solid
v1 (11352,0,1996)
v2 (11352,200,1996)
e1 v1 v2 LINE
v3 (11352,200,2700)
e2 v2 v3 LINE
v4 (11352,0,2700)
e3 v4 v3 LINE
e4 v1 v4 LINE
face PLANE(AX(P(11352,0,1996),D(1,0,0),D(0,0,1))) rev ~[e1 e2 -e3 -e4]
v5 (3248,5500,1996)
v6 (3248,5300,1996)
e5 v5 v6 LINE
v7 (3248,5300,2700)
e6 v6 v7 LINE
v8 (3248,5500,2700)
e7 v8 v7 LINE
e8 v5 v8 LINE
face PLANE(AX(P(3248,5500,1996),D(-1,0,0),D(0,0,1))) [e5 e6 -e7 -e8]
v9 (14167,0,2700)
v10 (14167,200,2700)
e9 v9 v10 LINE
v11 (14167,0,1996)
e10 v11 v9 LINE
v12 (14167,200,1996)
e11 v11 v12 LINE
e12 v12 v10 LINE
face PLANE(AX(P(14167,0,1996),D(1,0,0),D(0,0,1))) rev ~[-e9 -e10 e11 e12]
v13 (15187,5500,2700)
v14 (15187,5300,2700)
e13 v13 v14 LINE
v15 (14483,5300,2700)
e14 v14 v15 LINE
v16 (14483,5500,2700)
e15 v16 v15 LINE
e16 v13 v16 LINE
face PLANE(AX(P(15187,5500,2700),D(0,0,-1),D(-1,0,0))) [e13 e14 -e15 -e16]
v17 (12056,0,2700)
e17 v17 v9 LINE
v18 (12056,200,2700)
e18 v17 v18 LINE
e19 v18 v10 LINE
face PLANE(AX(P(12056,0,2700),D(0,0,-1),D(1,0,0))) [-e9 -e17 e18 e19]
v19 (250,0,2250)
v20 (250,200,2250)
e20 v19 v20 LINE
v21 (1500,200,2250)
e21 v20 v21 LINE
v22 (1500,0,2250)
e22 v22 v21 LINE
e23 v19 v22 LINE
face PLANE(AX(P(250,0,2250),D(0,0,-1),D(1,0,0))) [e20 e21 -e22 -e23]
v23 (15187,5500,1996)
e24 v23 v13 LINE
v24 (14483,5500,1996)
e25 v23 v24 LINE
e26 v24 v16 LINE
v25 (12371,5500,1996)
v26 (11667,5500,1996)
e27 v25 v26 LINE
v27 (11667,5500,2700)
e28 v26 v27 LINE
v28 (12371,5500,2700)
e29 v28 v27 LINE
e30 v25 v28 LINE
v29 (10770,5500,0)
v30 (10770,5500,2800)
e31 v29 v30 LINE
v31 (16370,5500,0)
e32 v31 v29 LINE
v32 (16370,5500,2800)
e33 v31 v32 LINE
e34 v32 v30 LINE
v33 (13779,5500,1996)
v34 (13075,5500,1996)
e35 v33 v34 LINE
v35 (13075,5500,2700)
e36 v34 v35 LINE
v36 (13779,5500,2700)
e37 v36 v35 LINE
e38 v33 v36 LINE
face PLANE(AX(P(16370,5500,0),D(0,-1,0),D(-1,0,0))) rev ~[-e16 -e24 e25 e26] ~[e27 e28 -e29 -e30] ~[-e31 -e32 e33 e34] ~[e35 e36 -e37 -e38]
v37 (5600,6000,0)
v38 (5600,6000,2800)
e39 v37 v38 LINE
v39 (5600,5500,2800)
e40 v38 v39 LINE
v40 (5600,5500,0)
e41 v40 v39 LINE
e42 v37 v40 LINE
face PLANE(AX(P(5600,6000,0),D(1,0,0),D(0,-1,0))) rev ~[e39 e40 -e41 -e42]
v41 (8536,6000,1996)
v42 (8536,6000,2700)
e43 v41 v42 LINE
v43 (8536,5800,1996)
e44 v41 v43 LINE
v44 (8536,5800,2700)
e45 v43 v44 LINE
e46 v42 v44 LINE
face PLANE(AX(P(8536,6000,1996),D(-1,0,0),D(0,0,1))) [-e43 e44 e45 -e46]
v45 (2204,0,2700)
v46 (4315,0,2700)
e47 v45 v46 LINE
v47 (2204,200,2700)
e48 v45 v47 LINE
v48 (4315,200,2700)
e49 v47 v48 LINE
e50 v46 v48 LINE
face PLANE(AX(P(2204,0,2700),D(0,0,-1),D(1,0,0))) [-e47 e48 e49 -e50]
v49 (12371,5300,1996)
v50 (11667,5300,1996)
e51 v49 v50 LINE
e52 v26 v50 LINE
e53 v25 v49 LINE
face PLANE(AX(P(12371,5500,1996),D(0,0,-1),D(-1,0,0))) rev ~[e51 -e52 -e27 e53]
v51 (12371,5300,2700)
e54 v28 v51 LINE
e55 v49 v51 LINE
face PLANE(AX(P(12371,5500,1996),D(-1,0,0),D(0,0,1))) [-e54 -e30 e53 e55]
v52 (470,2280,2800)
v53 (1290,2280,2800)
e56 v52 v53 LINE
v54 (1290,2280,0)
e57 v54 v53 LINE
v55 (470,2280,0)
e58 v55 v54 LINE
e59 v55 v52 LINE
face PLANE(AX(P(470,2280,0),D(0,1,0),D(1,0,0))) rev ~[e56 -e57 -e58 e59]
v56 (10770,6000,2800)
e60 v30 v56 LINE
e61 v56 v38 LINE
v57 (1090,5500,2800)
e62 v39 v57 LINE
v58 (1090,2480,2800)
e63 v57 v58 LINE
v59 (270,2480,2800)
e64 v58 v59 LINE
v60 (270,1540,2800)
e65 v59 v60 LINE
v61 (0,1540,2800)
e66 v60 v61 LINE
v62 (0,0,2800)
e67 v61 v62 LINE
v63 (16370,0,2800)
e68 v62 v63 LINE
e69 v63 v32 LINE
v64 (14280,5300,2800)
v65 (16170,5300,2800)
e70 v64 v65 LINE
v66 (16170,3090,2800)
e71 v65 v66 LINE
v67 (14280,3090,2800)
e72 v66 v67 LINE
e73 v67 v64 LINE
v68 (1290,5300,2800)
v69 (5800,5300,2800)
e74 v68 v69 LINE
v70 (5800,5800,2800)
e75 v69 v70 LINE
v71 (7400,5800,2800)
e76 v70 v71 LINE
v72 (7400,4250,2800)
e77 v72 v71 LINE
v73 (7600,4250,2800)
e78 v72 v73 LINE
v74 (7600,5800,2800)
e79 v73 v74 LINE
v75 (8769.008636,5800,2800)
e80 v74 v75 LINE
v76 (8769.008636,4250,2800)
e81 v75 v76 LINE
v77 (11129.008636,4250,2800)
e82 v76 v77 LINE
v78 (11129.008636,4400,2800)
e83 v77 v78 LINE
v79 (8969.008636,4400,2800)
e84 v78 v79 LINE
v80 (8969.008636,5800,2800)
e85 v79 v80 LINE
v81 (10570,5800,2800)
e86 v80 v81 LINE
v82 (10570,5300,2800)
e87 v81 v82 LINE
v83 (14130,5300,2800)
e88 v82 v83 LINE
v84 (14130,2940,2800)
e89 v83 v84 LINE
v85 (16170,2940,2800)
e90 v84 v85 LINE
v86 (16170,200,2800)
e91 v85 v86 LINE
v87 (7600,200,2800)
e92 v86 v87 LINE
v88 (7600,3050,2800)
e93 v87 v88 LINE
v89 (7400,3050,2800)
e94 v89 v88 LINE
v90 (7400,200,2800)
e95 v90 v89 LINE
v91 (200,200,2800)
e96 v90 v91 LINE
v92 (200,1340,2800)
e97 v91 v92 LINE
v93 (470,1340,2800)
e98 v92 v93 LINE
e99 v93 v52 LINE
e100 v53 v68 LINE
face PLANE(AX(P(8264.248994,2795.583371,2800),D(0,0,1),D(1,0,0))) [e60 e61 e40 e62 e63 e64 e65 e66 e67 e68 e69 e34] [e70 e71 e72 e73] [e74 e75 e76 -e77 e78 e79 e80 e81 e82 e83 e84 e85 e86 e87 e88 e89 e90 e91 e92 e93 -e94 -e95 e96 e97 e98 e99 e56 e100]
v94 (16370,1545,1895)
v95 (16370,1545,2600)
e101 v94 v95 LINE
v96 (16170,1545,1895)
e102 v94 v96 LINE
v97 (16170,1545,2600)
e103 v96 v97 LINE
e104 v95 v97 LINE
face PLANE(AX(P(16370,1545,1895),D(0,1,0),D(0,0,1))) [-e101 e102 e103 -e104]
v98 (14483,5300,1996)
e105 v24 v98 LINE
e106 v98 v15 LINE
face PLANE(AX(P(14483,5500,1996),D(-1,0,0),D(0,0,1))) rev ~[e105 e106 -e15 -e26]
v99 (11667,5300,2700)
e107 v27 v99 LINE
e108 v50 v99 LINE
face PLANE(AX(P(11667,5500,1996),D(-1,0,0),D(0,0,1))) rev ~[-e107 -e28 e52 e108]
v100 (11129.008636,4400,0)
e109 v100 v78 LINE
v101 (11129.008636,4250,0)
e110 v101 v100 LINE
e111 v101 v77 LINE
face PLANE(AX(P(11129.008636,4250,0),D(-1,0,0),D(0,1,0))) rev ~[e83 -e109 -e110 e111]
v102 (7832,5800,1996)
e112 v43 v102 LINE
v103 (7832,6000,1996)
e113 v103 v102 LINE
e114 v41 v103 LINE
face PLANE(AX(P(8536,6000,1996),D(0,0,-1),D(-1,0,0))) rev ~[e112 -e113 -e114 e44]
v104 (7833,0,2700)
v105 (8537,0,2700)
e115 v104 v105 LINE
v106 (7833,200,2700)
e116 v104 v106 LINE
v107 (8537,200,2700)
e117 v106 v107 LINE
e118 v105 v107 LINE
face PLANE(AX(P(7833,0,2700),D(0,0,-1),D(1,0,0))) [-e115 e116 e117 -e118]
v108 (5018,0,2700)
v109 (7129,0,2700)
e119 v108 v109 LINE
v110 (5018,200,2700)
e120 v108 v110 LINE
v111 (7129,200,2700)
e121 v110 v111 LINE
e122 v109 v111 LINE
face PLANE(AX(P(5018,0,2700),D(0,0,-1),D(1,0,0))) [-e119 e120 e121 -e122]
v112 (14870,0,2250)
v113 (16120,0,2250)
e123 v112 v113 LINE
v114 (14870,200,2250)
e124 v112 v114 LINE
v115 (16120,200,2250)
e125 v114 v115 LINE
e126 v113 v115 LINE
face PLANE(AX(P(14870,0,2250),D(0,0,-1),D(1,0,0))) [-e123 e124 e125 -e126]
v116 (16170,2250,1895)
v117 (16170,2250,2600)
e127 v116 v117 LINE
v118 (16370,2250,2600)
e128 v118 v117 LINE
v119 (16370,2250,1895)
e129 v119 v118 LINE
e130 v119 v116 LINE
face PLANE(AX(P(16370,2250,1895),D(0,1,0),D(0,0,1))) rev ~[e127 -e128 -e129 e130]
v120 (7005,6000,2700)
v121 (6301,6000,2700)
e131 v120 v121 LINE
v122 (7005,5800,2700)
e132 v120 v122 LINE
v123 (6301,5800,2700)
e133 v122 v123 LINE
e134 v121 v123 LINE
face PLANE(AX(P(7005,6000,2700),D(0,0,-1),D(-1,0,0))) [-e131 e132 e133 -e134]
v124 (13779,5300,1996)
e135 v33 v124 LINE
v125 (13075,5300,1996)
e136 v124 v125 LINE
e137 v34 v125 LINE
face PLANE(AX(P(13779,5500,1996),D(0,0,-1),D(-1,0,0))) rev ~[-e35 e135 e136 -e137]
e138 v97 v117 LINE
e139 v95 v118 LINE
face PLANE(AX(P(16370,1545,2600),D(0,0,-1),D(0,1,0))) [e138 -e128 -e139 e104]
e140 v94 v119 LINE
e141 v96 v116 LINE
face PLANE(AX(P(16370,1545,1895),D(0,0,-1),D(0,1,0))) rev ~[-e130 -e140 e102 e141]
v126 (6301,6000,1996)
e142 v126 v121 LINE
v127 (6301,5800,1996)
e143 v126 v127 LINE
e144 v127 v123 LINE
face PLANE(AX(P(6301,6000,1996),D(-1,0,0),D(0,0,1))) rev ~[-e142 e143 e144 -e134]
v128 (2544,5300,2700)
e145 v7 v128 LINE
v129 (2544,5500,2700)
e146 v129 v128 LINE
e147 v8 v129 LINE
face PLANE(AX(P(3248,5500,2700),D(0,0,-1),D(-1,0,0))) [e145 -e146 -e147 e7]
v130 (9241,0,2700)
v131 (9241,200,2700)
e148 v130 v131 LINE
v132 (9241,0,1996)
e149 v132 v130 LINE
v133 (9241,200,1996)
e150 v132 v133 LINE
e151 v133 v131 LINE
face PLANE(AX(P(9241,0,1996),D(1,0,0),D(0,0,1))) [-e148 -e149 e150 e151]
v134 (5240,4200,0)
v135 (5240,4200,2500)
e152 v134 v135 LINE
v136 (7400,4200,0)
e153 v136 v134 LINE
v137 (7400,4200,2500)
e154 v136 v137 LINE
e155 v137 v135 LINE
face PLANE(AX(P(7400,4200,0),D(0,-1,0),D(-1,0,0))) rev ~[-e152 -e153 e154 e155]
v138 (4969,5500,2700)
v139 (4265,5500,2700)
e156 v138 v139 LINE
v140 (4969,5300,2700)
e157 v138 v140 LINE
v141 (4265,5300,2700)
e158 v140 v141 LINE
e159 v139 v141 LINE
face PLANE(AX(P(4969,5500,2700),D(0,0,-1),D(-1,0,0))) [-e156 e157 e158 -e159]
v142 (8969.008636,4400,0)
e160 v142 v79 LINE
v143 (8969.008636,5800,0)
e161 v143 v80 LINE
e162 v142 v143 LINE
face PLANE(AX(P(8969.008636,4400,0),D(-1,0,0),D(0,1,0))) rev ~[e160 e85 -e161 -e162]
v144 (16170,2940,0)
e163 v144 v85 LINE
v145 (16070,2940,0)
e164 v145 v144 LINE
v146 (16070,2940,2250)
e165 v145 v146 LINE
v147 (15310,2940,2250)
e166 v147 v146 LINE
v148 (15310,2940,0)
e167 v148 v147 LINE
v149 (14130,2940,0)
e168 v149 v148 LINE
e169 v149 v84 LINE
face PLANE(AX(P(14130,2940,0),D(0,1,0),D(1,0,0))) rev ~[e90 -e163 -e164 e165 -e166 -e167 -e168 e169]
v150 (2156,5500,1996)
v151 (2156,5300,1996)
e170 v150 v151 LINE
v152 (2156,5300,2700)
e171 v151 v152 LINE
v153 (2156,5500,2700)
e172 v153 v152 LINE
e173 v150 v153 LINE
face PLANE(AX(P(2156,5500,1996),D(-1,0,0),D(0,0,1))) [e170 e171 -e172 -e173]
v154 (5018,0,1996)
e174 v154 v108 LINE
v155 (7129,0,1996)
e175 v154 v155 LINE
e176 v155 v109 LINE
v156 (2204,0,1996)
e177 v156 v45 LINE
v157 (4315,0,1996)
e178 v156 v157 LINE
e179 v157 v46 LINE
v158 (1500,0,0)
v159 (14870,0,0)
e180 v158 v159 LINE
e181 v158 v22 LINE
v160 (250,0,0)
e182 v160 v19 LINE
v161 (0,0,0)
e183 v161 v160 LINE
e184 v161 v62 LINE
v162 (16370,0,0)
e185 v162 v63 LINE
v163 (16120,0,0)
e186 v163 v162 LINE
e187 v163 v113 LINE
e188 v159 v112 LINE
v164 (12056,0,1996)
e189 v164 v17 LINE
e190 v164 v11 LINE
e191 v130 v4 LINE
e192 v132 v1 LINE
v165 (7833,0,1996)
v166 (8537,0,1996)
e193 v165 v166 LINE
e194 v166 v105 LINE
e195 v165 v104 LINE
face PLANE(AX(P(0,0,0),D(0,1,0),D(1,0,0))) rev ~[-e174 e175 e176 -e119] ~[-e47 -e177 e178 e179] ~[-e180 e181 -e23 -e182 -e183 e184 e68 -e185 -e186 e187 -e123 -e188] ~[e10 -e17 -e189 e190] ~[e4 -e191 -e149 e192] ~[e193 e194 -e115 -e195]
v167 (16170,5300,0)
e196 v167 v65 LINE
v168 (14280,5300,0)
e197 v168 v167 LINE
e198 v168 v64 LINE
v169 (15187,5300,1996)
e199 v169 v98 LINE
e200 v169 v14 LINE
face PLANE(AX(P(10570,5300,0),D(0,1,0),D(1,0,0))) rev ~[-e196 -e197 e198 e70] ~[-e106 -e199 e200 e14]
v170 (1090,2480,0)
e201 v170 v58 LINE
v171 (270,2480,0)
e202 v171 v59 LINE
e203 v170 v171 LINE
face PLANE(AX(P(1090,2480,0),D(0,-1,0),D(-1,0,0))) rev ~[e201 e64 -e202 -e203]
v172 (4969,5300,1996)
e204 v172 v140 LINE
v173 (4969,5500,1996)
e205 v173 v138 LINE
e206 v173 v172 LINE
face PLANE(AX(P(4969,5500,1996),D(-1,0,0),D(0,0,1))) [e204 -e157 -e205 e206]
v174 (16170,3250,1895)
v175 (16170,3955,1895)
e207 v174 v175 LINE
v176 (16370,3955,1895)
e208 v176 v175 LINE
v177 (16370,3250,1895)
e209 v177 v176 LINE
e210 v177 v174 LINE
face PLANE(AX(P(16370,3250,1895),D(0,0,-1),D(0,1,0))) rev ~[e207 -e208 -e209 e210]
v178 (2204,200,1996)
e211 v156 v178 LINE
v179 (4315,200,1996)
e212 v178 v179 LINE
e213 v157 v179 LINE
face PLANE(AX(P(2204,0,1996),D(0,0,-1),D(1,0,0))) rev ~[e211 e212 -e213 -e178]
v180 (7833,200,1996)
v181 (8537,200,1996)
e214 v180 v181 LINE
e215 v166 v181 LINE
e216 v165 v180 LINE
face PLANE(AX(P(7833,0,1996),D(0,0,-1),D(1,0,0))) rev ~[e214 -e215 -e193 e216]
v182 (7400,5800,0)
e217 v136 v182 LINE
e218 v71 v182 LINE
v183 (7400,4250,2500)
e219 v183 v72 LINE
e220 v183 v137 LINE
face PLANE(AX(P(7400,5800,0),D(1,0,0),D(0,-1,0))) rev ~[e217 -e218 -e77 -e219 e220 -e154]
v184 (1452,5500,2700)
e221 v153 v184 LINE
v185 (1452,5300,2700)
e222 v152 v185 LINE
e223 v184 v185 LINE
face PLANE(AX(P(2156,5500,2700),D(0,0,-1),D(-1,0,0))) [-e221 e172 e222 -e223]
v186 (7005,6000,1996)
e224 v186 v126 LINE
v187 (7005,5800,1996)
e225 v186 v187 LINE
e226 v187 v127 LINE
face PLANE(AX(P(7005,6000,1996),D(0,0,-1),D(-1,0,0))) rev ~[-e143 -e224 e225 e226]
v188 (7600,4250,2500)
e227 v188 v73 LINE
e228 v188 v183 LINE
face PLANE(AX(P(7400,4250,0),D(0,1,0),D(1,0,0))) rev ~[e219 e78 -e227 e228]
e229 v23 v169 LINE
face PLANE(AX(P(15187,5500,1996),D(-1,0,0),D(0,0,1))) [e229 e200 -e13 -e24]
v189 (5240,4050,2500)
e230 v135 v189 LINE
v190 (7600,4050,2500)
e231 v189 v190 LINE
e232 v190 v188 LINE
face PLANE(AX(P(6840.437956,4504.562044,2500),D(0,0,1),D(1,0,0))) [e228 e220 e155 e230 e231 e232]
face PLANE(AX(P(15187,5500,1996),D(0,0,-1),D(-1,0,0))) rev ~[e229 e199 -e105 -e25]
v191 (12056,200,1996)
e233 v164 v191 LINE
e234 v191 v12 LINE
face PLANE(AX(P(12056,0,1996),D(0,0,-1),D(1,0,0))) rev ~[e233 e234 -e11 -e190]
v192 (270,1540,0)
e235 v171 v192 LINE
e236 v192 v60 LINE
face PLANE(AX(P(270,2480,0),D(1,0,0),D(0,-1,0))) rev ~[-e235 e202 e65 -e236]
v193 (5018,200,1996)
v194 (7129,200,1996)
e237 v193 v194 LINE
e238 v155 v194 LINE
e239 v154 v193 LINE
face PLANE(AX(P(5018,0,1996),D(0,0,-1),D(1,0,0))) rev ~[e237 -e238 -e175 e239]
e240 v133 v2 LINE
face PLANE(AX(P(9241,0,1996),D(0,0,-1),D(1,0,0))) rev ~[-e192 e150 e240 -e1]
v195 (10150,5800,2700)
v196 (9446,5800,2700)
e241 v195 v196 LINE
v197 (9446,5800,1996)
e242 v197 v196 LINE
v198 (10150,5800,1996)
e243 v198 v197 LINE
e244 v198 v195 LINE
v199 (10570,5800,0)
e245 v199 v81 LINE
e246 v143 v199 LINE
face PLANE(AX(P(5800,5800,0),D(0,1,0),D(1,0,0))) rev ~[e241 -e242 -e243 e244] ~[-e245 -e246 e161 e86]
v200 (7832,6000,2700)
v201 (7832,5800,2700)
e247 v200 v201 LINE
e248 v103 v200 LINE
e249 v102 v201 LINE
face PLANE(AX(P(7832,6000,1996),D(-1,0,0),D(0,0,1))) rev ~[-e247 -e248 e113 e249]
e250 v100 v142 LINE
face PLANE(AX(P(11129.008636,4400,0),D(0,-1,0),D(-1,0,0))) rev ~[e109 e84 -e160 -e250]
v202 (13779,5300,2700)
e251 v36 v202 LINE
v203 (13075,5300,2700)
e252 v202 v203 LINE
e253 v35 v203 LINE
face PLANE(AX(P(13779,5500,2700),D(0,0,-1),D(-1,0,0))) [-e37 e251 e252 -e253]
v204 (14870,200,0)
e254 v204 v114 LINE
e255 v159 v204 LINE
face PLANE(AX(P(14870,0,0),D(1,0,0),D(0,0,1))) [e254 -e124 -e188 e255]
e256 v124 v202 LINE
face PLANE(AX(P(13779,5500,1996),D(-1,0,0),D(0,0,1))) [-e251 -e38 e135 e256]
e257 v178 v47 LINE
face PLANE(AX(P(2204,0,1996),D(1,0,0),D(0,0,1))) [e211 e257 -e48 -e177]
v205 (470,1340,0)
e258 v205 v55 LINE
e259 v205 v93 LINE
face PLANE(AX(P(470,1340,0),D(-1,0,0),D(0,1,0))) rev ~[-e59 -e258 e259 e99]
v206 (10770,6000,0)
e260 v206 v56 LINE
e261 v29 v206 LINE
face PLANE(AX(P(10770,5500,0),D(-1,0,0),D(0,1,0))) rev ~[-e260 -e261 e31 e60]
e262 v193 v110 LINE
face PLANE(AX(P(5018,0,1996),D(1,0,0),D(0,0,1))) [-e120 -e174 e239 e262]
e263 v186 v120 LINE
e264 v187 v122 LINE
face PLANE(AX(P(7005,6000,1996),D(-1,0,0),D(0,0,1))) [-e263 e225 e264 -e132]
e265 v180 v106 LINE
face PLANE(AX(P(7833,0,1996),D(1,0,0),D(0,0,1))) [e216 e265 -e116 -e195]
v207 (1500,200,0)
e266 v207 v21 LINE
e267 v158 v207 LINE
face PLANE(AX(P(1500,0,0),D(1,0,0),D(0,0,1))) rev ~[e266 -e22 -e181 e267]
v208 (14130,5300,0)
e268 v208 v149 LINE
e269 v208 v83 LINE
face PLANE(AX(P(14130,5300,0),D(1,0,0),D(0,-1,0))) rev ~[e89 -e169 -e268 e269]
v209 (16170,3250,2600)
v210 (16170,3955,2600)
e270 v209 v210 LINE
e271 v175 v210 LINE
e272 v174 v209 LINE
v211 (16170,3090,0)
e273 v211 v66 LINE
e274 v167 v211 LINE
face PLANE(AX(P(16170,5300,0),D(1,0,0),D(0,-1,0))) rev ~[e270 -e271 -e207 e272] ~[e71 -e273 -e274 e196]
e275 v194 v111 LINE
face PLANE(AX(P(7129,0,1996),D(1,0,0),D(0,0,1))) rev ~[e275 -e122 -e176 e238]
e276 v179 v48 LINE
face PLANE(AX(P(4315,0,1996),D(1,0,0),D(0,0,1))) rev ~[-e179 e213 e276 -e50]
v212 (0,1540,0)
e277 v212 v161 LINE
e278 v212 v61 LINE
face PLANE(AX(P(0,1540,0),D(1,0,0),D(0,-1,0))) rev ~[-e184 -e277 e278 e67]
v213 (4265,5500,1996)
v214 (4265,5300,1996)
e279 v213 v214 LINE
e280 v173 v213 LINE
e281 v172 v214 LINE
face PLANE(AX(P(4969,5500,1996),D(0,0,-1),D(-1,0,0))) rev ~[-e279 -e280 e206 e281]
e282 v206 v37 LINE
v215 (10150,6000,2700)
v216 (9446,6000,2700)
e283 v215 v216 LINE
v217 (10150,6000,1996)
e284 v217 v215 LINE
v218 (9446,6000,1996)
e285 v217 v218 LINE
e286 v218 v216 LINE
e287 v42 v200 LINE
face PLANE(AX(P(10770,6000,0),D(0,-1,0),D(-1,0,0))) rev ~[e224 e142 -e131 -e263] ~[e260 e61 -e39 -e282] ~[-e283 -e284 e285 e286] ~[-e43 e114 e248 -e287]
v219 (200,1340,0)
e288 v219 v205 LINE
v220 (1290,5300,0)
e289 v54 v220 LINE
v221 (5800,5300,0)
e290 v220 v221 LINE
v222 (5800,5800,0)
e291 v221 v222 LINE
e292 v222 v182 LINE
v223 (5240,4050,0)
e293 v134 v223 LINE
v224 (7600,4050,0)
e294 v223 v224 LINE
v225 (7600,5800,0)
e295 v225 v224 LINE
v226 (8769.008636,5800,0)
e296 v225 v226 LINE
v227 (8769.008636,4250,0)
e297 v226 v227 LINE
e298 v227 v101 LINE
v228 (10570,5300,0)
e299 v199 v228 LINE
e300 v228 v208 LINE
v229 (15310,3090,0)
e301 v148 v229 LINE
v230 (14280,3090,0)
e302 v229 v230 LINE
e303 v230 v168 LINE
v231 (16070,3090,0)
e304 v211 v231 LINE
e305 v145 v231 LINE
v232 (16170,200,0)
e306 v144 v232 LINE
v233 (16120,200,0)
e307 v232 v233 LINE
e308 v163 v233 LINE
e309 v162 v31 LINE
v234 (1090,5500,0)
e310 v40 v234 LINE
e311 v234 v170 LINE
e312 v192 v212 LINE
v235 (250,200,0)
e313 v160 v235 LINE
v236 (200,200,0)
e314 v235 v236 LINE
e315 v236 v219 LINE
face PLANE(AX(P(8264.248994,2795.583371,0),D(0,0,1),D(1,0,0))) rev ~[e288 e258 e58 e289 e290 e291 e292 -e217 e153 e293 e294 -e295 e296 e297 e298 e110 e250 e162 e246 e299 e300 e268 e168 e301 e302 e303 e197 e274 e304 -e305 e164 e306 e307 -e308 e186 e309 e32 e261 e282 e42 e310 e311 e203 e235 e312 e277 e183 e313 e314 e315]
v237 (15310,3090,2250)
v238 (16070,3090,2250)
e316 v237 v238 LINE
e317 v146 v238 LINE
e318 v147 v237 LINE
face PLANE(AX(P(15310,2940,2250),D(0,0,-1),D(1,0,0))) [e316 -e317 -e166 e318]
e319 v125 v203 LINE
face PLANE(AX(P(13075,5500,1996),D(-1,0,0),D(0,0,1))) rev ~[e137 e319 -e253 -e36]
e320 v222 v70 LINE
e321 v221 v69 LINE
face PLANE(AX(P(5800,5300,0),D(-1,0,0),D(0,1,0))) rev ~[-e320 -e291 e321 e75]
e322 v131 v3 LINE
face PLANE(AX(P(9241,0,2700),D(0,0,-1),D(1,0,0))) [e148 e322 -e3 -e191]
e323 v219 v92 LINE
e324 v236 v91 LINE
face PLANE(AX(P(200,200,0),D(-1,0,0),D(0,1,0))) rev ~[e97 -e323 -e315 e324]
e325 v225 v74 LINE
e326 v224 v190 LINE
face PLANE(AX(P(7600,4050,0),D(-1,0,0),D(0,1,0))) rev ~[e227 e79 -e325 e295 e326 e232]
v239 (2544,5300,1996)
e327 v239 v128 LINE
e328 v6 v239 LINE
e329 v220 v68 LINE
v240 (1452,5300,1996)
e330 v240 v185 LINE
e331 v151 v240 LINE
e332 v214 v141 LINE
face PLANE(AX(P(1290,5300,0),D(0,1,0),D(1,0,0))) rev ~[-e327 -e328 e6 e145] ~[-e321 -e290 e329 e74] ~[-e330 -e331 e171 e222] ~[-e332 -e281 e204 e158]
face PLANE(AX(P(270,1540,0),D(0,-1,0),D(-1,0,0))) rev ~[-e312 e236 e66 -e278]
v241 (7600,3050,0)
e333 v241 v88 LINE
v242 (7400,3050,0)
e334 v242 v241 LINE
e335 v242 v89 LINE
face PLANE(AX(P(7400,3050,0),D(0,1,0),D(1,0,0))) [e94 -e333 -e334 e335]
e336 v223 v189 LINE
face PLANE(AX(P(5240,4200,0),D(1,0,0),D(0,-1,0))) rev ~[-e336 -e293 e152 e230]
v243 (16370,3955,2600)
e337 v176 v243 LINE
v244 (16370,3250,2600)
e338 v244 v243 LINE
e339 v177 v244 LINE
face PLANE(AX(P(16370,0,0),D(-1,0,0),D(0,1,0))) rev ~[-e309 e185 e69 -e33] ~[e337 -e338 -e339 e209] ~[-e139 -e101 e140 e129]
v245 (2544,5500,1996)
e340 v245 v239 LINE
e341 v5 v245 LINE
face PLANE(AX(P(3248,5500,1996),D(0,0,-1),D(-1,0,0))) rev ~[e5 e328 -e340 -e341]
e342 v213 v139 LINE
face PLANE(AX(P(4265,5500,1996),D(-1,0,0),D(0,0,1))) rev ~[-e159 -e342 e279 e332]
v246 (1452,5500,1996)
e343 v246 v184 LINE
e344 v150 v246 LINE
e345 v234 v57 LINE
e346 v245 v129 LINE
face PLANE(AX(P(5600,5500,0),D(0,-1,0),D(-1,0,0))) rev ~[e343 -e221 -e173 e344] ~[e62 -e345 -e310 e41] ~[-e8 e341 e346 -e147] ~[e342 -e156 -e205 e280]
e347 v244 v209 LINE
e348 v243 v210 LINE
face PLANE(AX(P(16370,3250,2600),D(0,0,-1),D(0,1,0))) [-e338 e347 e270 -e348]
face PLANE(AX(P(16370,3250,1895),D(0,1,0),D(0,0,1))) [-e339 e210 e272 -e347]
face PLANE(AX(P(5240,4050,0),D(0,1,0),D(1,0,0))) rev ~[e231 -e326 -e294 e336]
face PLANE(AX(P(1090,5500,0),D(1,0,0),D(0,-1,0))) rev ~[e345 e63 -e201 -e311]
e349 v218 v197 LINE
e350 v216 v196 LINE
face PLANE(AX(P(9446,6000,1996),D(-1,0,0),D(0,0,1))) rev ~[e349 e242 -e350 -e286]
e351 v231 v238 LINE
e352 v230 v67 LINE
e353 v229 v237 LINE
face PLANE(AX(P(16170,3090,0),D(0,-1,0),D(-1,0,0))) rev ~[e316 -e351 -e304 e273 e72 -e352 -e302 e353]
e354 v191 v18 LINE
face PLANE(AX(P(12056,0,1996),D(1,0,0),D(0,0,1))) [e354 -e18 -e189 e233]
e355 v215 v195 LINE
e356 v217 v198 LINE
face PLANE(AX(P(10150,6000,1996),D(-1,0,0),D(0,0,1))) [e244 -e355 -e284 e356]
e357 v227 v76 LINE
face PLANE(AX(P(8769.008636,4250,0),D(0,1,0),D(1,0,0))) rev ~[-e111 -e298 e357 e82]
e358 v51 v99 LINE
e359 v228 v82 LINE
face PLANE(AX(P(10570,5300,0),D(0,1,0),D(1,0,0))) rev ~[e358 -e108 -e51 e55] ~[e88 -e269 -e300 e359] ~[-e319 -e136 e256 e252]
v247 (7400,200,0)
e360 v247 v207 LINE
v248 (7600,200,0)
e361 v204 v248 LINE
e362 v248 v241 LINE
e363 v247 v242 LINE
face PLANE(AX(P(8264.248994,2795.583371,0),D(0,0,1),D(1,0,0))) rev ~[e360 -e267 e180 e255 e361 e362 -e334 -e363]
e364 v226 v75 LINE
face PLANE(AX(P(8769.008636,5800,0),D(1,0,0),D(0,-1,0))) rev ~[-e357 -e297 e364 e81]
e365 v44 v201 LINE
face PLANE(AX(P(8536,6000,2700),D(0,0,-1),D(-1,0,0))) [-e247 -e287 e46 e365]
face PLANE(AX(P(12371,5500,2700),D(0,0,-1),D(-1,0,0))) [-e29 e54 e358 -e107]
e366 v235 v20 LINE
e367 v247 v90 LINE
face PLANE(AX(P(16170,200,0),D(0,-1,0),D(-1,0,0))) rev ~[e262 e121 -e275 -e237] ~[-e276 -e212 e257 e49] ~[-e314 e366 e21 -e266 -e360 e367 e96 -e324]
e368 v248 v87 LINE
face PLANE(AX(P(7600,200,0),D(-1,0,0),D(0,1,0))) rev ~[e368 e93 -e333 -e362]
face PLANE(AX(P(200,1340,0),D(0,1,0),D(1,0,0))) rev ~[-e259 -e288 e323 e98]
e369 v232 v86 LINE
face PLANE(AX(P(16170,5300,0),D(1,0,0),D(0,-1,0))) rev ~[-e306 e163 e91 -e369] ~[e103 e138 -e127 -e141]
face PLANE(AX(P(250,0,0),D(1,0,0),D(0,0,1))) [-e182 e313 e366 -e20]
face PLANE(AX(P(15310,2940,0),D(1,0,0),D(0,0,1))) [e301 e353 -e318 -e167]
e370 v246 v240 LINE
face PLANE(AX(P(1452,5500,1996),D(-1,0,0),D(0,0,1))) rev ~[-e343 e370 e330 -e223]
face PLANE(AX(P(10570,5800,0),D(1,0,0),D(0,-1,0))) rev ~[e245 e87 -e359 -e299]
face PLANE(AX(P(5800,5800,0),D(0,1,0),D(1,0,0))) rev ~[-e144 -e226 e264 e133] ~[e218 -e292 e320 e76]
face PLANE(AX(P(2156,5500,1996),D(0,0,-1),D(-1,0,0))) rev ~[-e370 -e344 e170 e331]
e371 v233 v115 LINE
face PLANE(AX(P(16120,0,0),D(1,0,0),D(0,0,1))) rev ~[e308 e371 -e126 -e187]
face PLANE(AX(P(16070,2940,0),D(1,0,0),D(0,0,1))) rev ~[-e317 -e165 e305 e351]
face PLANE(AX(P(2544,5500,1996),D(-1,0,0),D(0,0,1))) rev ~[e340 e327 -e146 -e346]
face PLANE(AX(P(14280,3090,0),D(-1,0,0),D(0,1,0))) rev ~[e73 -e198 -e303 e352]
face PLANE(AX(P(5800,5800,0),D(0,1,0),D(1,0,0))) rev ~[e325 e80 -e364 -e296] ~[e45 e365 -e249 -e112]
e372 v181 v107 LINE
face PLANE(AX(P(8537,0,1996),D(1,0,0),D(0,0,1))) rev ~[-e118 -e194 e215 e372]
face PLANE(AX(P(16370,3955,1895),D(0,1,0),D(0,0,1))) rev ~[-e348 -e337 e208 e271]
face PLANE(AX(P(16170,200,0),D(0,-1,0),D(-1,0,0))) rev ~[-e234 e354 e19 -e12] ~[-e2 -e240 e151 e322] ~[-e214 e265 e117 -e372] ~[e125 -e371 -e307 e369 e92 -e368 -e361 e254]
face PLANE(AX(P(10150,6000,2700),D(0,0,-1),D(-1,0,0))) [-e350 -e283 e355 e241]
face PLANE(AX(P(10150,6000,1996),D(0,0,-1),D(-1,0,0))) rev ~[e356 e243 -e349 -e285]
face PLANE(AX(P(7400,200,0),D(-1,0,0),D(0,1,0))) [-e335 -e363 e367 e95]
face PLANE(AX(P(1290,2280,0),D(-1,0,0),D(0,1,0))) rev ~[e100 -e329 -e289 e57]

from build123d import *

# Parameters (mm, degrees)
F1_DEPTH  = 2800
F2_W      = 1250
F2_H      = 2250
F3_DEPTH  = 200
F4_W      = 1250
F4_H      = 2250
F5_DEPTH  = 200
F11_DEPTH = 2500
F13_DEPTH = 2800
F14_W     = 2111
F14_H     = 704
F14_W_2   = 704
F15_DEPTH = 200
F16_W     = 704
F16_H     = 704
F17_DEPTH = 200
F18_W     = 704
F18_H     = 704
F19_DEPTH = 200
F20_W     = 704
F20_H     = 704
F21_DEPTH = 200
F27_W     = 760
F27_H     = 2250
F28_DEPTH = 150
F29_W     = 705
F29_H     = 705
F30_DEPTH = 200
F32_DEPTH = 2800
F33_W     = 200
F33_H     = 1550
F33_H_2   = 2850
F34_DEPTH = 2800


with BuildPart() as f1:
    # F0 (on Top) → F1 (new body)
    with BuildSketch(Plane.XY):
        Polygon((0, 200), (0, 0), (16370, 0), (16370, 5500), (10770, 5500), (10770, 6000), (5600, 6000), (5600, 5500), (1090, 5500), (1090, 5300), (1090, 2480), (270, 2480), (270, 1540), (0, 1540), align=None)
        Polygon((1290, 5300), (5800, 5300), (5800, 5800), (10570, 5800), (10570, 5300), (16170, 5300), (16170, 200), (200, 200), (200, 1340), (470, 1340), (470, 2280), (936.407268, 2280), (1290, 2280), align=None, mode=Mode.SUBTRACT)
    extrude(amount=F1_DEPTH)

    # F2 (on face) → F3 (cut)
    with BuildSketch(Plane.XZ):
        with Locations((875, 1125)):
            Rectangle(F2_W, F2_H)
    extrude(amount=-F3_DEPTH, mode=Mode.SUBTRACT)

    # F4 (on face) → F5 (cut)
    with BuildSketch(Plane.XZ):
        with Locations((15495, 1125)):
            Rectangle(F4_W, F4_H)
    extrude(amount=-F5_DEPTH, mode=Mode.SUBTRACT)

    # F10 (on Top) → F11 (join)
    with BuildSketch(Plane.XY):
        Polygon((7600, 5800), (7400, 5800), (7400, 4200), (5240, 4200), (5240, 4050), (7600, 4050), align=None)
    extrude(amount=F11_DEPTH)

    # F12 (on Top) → F13 (join)
    with BuildSketch(Plane.XY):
        Polygon((14280, 5300), (14130, 5300), (14130, 2940), (16170, 2940), (16170, 3090), (14280, 3090), align=None)
    extrude(amount=F13_DEPTH)

    # F14 (on face) → F15 (cut)
    with BuildSketch(Plane.XZ):
        with Locations((3259.5, 2348)):
            Rectangle(F14_W, F14_H)
        with Locations((6073.5, 2348)):
            Rectangle(F14_W, F14_H)
        with Locations((8185, 2348)):
            Rectangle(F14_W_2, F14_H)
        with Locations((10296.5, 2348)):
            Rectangle(F14_W, F14_H)
        with Locations((13111.5, 2348)):
            Rectangle(F14_W, F14_H)
    extrude(amount=-F15_DEPTH, mode=Mode.SUBTRACT)

    # F16 (on face) → F17 (cut)
    with BuildSketch(Plane(origin=(0, 5500, 0), x_dir=(-1, 0, 0), z_dir=(0, 1, 0))):
        with Locations((-14835, 2348)):
            Rectangle(F16_W, F16_H)
        with Locations((-13427, 2348)):
            Rectangle(F16_W, F16_H)
        with Locations((-12019, 2348)):
            Rectangle(F16_W, F16_H)
    extrude(amount=-F17_DEPTH, mode=Mode.SUBTRACT)

    # F18 (on face) → F19 (cut)
    with BuildSketch(Plane(origin=(0, 6000, 0), x_dir=(-1, 0, 0), z_dir=(0, 1, 0))):
        with Locations((-9798, 2348)):
            Rectangle(F18_W, F18_H)
        with Locations((-8184, 2348)):
            Rectangle(F18_W, F18_H)
        with Locations((-6653, 2348)):
            Rectangle(F18_W, F18_H)
    extrude(amount=-F19_DEPTH, mode=Mode.SUBTRACT)

    # F20 (on face) → F21 (cut)
    with BuildSketch(Plane(origin=(0, 5500, 0), x_dir=(-1, 0, 0), z_dir=(0, 1, 0))):
        with Locations((-4617, 2348)):
            Rectangle(F20_W, F20_H)
        with Locations((-2896, 2348)):
            Rectangle(F20_W, F20_H)
        with Locations((-1804, 2348)):
            Rectangle(F20_W, F20_H)
    extrude(amount=-F21_DEPTH, mode=Mode.SUBTRACT)

    # F27 (on face) → F28 (cut)
    with BuildSketch(Plane.XZ.offset(-2940)):
        with Locations((15690, 1125)):
            Rectangle(F27_W, F27_H)
    extrude(amount=-F28_DEPTH, mode=Mode.SUBTRACT)

    # F29 (on face) → F30 (cut)
    with BuildSketch(Plane.YZ.offset(16370)):
        with Locations((1897.5, 2247.5)):
            Rectangle(F29_W, F29_H)
        with Locations((3602.5, 2247.5)):
            Rectangle(F29_W, F29_H)
    extrude(amount=-F30_DEPTH, mode=Mode.SUBTRACT)

    # F9 (on Top) → F32 (join)
    with BuildSketch(Plane.XY):
        Polygon((8969.008636, 4400), (8969.008636, 5800), (8769.008636, 5800), (8769.008636, 4250), (11129.008636, 4250), (11129.008636, 4400), align=None)
    extrude(amount=F32_DEPTH)

    # F33 (on Top) → F34 (join)
    with BuildSketch(Plane.XY):
        with Locations((7500, 5025)):
            Rectangle(F33_W, F33_H)
        with Locations((7500, 1625)):
            Rectangle(F33_W, F33_H_2)
    extrude(amount=F34_DEPTH)


solid = f1.part
